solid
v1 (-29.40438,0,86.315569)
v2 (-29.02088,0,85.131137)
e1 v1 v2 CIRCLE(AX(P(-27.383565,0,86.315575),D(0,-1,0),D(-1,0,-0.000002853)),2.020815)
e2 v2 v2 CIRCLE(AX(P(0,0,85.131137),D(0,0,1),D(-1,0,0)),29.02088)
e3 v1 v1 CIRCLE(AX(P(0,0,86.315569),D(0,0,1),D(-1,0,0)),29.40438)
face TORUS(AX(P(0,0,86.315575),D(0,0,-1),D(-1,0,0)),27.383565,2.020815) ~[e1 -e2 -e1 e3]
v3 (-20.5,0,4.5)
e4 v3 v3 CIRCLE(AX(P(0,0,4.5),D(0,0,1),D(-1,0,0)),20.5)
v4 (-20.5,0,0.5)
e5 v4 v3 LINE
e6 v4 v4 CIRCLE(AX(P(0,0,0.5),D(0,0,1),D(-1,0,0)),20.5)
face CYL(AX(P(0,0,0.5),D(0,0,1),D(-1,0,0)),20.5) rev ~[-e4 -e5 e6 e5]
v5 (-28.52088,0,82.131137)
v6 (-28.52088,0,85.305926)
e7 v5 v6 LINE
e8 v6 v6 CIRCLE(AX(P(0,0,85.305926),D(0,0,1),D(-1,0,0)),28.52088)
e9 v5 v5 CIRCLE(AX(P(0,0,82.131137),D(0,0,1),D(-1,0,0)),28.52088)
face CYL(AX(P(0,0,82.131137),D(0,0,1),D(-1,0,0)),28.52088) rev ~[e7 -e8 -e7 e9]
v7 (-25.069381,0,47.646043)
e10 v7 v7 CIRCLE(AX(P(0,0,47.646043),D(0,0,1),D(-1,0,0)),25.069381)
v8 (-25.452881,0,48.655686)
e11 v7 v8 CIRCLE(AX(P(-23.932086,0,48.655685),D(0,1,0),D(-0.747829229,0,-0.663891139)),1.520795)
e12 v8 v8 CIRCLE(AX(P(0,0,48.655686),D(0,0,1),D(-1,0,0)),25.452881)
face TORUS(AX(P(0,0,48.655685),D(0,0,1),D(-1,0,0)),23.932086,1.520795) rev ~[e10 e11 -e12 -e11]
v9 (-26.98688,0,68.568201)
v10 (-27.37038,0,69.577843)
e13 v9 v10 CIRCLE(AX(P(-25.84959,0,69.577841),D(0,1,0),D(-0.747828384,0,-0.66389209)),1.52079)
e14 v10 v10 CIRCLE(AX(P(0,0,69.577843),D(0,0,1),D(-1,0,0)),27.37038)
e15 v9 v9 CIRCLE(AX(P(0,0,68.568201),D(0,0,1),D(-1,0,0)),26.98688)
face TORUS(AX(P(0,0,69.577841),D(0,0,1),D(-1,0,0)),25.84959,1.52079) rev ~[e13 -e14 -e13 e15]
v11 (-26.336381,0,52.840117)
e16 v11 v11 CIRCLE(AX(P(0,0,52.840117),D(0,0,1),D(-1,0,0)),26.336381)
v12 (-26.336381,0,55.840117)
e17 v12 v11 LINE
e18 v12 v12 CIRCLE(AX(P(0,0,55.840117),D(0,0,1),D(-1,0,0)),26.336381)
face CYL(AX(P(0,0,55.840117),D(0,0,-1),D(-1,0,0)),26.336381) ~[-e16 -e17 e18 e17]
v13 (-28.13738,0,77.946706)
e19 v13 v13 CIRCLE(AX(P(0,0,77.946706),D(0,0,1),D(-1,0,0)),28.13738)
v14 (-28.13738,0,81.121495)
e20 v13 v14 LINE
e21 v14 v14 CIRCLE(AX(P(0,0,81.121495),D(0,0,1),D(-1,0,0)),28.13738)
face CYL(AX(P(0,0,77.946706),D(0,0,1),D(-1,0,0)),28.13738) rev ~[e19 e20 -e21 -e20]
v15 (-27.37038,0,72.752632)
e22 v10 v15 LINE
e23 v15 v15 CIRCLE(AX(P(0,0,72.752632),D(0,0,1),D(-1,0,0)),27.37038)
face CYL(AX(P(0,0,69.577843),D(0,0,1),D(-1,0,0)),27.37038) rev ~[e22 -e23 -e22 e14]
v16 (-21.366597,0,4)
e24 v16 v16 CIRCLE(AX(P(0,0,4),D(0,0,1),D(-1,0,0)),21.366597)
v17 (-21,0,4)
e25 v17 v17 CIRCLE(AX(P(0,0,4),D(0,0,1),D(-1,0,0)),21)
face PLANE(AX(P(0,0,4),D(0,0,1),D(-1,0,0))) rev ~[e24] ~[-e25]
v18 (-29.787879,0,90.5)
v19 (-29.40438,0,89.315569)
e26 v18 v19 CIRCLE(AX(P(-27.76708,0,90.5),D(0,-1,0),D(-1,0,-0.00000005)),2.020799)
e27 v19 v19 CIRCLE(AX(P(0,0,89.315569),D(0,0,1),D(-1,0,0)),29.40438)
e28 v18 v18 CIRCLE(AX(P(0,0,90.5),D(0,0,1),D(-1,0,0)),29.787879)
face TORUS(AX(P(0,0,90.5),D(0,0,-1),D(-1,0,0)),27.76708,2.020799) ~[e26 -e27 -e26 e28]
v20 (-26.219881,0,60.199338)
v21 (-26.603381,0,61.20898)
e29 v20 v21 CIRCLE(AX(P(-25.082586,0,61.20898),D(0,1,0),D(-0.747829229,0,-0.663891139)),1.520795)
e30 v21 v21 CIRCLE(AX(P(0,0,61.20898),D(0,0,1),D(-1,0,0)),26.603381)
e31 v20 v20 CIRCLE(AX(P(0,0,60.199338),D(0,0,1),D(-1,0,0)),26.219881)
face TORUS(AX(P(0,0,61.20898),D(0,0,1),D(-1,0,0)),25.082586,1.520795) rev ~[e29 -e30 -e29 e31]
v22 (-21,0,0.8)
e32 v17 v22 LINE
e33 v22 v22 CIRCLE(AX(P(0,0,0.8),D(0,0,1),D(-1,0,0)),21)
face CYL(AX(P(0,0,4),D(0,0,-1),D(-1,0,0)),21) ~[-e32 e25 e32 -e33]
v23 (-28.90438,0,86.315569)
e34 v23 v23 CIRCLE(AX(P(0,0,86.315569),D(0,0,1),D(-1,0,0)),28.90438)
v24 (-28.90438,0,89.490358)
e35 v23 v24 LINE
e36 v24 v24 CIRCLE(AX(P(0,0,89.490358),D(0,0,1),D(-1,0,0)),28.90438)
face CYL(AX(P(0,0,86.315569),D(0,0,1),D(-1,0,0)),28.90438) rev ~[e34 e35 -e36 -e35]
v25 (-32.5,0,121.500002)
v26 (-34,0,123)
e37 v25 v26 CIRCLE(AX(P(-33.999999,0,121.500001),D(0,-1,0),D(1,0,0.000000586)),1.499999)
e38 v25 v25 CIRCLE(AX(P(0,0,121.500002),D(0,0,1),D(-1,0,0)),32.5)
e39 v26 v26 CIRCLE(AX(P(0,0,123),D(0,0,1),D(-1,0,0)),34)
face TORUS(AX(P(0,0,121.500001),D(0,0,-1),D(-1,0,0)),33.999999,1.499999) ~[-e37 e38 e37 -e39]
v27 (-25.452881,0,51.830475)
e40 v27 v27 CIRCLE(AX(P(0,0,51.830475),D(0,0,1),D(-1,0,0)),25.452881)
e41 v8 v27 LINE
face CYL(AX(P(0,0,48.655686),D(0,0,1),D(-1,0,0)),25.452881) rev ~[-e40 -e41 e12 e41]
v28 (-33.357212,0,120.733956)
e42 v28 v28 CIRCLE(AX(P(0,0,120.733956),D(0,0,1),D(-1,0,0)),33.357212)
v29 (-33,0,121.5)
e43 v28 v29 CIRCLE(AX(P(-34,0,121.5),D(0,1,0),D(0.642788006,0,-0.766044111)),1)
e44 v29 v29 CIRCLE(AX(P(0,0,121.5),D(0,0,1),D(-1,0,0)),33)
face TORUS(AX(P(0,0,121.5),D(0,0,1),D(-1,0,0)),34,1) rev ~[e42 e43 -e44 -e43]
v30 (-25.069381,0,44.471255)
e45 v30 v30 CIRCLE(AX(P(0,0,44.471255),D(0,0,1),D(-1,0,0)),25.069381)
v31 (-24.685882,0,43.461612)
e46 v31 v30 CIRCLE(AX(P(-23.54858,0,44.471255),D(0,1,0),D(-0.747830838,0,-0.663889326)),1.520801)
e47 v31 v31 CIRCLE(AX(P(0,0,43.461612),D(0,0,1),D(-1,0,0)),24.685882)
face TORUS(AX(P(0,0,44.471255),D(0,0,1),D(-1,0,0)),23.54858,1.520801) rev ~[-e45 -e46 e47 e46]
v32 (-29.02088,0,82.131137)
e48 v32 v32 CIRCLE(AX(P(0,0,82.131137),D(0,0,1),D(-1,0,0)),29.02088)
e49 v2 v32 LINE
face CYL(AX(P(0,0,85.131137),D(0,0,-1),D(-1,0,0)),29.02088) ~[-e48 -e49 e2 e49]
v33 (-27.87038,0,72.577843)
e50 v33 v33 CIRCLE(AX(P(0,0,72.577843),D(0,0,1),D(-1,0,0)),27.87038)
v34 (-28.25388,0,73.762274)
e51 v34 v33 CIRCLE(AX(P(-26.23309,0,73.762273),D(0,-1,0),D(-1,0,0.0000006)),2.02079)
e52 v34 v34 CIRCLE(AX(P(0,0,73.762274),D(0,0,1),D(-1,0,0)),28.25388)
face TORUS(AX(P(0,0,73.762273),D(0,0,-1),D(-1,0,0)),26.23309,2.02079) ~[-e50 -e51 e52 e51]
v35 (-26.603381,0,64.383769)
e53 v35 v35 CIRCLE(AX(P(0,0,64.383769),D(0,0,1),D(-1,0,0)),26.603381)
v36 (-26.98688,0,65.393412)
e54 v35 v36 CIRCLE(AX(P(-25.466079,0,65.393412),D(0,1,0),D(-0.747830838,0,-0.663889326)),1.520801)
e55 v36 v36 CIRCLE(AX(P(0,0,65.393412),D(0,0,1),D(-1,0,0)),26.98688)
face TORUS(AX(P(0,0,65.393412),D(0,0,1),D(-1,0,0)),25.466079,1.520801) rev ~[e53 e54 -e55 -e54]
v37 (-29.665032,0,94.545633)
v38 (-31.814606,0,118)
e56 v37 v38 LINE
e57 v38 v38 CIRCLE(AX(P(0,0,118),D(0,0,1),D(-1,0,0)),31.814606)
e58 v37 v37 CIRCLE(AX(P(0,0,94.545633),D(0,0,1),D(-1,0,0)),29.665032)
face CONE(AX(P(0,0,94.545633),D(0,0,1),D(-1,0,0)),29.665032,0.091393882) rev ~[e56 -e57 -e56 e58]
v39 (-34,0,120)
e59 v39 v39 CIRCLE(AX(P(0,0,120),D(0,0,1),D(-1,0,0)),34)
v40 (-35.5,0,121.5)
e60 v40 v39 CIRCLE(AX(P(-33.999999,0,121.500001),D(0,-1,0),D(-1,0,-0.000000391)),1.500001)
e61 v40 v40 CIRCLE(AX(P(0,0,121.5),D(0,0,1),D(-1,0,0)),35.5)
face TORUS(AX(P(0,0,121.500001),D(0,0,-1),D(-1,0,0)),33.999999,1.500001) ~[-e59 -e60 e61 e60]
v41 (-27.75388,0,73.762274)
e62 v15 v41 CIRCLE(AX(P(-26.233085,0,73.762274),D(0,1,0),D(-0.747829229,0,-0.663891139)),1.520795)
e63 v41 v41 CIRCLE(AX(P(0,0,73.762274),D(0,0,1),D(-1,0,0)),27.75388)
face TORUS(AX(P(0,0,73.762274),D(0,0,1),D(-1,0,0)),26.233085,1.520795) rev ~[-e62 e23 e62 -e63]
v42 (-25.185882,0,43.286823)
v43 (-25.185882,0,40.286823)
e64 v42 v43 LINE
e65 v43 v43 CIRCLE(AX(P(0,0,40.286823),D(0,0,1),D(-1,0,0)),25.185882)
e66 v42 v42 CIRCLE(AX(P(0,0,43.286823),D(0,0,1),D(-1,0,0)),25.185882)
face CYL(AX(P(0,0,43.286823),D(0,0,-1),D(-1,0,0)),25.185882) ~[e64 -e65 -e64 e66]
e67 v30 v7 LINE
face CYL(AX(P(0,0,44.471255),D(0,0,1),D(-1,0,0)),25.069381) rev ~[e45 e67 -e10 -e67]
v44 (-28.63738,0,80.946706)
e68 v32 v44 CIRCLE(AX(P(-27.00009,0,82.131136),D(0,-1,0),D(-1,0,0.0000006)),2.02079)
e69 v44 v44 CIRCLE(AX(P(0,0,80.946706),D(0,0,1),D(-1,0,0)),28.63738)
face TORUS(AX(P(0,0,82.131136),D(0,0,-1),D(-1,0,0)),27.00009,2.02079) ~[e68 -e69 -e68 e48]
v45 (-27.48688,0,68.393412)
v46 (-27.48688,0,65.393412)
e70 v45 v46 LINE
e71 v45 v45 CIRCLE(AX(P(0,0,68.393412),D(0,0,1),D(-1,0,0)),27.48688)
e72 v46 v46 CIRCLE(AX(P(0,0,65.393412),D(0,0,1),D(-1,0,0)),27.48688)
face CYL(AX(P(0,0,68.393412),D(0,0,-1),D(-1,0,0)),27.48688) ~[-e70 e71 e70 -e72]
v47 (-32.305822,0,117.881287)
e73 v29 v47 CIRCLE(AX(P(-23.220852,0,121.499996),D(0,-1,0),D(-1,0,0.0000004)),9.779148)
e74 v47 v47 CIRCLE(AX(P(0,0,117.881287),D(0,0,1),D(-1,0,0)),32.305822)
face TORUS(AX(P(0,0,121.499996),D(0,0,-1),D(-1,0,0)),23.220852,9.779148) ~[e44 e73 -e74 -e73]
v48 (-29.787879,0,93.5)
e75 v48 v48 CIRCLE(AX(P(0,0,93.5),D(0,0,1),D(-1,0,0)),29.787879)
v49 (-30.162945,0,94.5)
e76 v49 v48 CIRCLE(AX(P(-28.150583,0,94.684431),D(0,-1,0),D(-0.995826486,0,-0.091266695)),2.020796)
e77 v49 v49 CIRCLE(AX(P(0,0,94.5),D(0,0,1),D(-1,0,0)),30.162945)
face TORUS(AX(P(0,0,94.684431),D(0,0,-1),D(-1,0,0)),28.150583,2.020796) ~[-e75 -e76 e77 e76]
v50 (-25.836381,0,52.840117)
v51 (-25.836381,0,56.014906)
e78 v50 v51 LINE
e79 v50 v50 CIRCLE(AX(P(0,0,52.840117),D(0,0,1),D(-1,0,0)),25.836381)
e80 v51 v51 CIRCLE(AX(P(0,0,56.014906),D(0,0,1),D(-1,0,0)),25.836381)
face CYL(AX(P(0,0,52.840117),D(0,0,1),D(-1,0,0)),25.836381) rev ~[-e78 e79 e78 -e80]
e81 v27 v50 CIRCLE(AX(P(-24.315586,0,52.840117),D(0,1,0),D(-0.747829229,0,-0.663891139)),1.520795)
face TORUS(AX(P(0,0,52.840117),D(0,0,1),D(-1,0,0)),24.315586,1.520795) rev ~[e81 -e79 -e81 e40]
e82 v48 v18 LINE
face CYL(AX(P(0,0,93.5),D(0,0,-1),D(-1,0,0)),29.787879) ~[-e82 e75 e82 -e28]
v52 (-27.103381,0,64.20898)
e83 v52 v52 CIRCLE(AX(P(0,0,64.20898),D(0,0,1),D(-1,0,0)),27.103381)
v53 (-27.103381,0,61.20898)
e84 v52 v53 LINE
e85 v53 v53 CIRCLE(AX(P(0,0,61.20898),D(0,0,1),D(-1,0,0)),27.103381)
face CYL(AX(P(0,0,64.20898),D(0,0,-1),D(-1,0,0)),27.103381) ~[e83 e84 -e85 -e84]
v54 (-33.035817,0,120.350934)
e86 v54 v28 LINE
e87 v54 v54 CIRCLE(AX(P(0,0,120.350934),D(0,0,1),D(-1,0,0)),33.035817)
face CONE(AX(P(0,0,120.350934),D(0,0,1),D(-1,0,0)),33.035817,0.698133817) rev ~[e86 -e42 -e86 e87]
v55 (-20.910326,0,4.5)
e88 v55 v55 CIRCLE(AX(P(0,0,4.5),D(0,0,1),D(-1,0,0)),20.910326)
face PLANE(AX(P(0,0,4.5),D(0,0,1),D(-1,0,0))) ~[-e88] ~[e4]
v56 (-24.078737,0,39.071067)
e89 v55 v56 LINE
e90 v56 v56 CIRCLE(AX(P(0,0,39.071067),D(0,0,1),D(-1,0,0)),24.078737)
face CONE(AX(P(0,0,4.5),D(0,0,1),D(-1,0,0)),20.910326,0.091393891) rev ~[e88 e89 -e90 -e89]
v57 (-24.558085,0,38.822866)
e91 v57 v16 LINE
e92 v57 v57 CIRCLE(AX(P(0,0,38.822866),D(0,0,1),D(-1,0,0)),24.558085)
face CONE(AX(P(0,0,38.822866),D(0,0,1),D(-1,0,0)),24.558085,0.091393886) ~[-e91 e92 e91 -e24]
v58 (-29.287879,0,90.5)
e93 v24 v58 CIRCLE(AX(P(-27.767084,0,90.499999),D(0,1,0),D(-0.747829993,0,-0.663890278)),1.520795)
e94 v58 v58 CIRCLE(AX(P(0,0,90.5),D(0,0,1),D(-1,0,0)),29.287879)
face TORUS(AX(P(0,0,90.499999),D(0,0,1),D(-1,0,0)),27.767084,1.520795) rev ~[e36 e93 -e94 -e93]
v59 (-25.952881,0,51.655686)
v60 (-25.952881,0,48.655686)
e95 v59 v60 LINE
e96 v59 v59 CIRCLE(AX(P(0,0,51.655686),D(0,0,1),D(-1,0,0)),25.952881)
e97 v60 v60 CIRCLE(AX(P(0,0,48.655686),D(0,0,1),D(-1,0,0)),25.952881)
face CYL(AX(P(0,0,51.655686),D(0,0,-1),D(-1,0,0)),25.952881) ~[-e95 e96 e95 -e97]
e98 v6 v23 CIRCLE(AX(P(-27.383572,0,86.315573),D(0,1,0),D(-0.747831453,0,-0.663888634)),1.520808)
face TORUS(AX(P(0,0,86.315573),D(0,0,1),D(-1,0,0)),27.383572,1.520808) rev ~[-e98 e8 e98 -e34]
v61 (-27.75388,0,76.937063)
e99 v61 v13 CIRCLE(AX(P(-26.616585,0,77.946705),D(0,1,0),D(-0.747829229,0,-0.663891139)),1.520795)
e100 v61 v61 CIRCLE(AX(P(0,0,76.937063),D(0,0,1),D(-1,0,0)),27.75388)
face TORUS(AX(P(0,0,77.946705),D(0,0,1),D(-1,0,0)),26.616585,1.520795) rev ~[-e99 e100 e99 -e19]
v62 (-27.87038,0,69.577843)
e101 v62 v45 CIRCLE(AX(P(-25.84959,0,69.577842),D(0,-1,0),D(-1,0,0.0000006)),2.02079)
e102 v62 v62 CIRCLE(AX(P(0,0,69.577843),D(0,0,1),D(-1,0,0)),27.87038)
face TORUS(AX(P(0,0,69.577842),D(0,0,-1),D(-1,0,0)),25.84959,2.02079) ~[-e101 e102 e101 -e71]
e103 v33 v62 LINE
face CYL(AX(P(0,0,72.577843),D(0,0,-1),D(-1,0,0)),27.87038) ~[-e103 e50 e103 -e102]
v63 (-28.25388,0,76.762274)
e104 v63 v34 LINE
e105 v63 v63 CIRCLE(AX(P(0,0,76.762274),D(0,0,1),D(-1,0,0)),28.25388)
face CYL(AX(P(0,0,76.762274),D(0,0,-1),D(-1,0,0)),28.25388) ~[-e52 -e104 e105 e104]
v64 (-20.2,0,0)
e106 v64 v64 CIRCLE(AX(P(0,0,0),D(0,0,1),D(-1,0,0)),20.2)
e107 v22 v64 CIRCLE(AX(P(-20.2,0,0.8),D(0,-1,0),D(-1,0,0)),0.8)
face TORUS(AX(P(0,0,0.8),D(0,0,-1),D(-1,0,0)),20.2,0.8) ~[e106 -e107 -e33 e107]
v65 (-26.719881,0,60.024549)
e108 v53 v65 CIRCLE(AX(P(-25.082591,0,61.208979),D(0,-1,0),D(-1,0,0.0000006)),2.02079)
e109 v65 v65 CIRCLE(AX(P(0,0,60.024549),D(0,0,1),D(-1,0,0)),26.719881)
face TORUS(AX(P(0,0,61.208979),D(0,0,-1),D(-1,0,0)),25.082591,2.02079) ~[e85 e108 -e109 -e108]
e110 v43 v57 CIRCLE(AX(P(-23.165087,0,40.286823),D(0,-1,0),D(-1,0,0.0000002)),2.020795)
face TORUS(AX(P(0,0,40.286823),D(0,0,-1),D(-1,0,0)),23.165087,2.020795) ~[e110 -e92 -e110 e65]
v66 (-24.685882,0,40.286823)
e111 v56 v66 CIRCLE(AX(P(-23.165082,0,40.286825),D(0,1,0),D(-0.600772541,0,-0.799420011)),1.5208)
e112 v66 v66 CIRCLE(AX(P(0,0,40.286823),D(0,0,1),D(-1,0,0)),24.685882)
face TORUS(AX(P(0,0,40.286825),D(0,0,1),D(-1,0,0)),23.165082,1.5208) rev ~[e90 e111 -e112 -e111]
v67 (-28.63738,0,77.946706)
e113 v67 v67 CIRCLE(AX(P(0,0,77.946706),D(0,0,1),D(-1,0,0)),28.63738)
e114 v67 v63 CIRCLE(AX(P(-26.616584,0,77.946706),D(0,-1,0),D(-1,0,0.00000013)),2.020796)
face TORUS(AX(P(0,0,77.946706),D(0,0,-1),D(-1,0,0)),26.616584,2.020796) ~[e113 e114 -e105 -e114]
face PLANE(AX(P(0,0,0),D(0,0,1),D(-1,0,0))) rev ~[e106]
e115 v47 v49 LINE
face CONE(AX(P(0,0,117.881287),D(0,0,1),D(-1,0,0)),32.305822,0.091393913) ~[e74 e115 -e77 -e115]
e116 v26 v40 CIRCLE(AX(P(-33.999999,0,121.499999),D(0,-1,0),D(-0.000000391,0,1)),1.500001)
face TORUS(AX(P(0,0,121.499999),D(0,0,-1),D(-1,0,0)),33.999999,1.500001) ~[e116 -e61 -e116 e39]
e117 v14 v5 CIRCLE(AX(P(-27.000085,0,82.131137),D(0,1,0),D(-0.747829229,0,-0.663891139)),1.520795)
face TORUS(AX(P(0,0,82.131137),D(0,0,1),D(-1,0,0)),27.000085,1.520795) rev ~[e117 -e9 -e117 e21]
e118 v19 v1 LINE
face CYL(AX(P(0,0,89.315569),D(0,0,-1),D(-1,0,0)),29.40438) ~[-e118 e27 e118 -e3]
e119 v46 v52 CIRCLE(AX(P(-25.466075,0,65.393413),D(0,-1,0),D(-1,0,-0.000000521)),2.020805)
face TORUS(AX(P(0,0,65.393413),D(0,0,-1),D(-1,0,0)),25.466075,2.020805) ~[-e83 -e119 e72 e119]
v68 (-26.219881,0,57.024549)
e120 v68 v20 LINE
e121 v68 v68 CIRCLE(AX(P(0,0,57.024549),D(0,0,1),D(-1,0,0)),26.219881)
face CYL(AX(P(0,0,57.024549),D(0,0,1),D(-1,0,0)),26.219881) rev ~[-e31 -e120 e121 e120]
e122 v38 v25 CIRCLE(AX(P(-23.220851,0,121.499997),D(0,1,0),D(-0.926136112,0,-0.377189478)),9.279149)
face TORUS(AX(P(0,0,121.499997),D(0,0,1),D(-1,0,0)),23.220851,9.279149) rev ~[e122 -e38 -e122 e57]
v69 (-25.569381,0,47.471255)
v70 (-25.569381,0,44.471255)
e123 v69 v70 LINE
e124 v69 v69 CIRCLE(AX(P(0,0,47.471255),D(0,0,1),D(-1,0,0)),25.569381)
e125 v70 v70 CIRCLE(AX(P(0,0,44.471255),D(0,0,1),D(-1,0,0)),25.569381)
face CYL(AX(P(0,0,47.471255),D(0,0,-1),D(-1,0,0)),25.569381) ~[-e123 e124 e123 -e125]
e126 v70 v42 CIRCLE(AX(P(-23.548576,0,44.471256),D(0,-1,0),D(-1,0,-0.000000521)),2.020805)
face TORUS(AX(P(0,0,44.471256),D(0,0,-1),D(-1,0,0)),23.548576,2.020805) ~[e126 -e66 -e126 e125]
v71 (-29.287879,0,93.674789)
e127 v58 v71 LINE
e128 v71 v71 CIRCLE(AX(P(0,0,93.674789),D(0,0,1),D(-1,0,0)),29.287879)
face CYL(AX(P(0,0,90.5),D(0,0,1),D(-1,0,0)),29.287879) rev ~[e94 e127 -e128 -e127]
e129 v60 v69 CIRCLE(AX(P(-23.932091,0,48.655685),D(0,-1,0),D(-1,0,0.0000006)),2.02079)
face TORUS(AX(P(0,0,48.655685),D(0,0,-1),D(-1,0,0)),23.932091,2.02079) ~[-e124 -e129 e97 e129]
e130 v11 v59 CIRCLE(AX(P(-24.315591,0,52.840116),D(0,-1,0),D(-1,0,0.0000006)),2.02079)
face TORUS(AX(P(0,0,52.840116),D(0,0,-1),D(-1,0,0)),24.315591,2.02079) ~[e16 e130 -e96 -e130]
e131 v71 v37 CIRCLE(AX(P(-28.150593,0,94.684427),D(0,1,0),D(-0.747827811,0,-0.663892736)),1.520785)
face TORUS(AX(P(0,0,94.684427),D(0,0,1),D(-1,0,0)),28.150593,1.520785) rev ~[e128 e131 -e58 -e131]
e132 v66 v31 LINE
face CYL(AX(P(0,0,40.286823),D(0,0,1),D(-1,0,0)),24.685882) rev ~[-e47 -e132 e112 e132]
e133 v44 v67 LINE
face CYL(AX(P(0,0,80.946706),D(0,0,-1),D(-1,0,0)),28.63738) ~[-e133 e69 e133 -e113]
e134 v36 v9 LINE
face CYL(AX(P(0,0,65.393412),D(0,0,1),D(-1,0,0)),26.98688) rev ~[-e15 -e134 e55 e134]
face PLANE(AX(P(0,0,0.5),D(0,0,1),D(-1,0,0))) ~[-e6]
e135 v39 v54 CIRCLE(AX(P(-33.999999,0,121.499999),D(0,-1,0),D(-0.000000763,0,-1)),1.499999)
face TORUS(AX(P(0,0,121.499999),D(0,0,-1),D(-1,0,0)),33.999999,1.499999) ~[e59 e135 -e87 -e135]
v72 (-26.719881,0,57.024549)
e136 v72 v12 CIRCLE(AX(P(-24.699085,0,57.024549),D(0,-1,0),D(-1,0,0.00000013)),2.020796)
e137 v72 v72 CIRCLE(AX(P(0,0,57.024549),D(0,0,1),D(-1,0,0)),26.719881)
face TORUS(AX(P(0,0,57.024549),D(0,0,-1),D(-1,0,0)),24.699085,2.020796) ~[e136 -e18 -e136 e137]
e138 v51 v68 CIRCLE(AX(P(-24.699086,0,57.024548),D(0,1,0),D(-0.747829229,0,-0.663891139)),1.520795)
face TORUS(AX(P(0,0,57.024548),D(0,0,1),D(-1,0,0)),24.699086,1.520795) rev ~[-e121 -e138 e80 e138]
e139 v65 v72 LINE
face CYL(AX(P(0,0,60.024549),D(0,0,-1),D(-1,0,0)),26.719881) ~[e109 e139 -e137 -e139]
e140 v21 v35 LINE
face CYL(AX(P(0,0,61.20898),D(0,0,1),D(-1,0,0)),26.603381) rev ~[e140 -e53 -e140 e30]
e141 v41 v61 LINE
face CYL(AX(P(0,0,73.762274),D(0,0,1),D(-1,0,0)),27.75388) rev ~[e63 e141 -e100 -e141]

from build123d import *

# Parameters (mm, degrees)
F3_R = 0.8


with BuildPart() as f2:
    # F1 (on Front) → F2 (revolve)
    with BuildSketch(Plane.XZ):
        with BuildLine():
            Line((-33.035817, 120.350934), (-33.357212, 120.733956))
            ThreePointArc((-33.357212, 120.733956), (-34.906308, 121.922618), (-33, 121.5))
            ThreePointArc((-33, 121.5), (-32.824888, 119.657653), (-32.305822, 117.881287))
            Line((-32.305822, 117.881287), (-30.162945, 94.5))
            ThreePointArc((-30.162945, 94.5), (-30.042672, 93.974773), (-29.787879, 93.5))
            Line((-29.787879, 93.5), (-29.787879, 90.5))
            ThreePointArc((-29.787879, 90.5), (-29.689615, 89.877515), (-29.40438, 89.315569))
            Line((-29.40438, 89.315569), (-29.40438, 86.315569))
            ThreePointArc((-29.40438, 86.315569), (-29.306115, 85.693084), (-29.02088, 85.131137))
            Line((-29.02088, 85.131137), (-29.02088, 82.131137))
            ThreePointArc((-29.02088, 82.131137), (-28.922616, 81.508652), (-28.63738, 80.946706))
            Line((-28.63738, 80.946706), (-28.63738, 77.946706))
            ThreePointArc((-28.63738, 77.946706), (-28.539116, 77.324221), (-28.25388, 76.762274))
            ThreePointArc((-28.25388, 76.762274), (-28.024997, 76.497572), (-27.75388, 76.276324))
            Line((-27.75388, 76.276324), (-27.75388, 76.937063))
            ThreePointArc((-27.75388, 76.937063), (-28.038276, 77.406694), (-28.13738, 77.946706))
            Line((-28.13738, 77.946706), (-28.13738, 81.121495))
            ThreePointArc((-28.13738, 81.121495), (-28.421776, 81.591126), (-28.52088, 82.131137))
            Line((-28.52088, 82.131137), (-28.52088, 85.305926))
            ThreePointArc((-28.52088, 85.305926), (-28.805275, 85.775557), (-28.90438, 86.315569))
            Line((-28.90438, 86.315569), (-28.90438, 89.490358))
            ThreePointArc((-28.90438, 89.490358), (-29.188775, 89.959988), (-29.287879, 90.5))
            Line((-29.287879, 90.5), (-29.287879, 93.674789))
            ThreePointArc((-29.287879, 93.674789), (-29.546123, 94.080039), (-29.665032, 94.545633))
            Line((-29.665032, 94.545633), (-31.814606, 118))
            ThreePointArc((-31.814606, 118), (-32.32704, 119.716762), (-32.5, 121.500002))
            ThreePointArc((-32.5, 121.500002), (-32.93934, 122.560661), (-34, 123))
            ThreePointArc((-34, 123), (-35.06066, 122.56066), (-35.5, 121.5))
            ThreePointArc((-35.5, 121.5), (-35.06066, 120.43934), (-34, 120))
            ThreePointArc((-34, 120), (-33.486969, 120.090461), (-33.035817, 120.350934))
        make_face()
        with BuildLine():
            ThreePointArc((-27.75388, 76.276324), (-28.024997, 76.497572), (-28.25388, 76.762274))
            Line((-28.25388, 76.762274), (-28.25388, 73.762274))
            ThreePointArc((-28.25388, 73.762274), (-28.155616, 73.139789), (-27.87038, 72.577843))
            Line((-27.87038, 72.577843), (-27.87038, 69.577843))
            ThreePointArc((-27.87038, 69.577843), (-27.772116, 68.955358), (-27.48688, 68.393412))
            Line((-27.48688, 68.393412), (-27.48688, 65.393412))
            ThreePointArc((-27.48688, 65.393412), (-27.388616, 64.770927), (-27.103381, 64.20898))
            Line((-27.103381, 64.20898), (-27.103381, 61.20898))
            ThreePointArc((-27.103381, 61.20898), (-27.005117, 60.586495), (-26.719881, 60.024549))
            Line((-26.719881, 60.024549), (-26.719881, 57.024549))
            ThreePointArc((-26.719881, 57.024549), (-26.621617, 56.402064), (-26.336381, 55.840117))
            Line((-26.336381, 55.840117), (-26.336381, 52.840117))
            ThreePointArc((-26.336381, 52.840117), (-26.238117, 52.217632), (-25.952881, 51.655686))
            Line((-25.952881, 51.655686), (-25.952881, 48.655686))
            ThreePointArc((-25.952881, 48.655686), (-25.854617, 48.033201), (-25.569381, 47.471255))
            Line((-25.569381, 47.471255), (-25.569381, 44.471255))
            ThreePointArc((-25.569381, 44.471255), (-25.471117, 43.84877), (-25.185882, 43.286823))
            Line((-25.185882, 43.286823), (-25.185882, 40.286823))
            ThreePointArc((-25.185882, 40.286823), (-25.022313, 39.490378), (-24.558085, 38.822866))
            Line((-24.558085, 38.822866), (-21.366597, 4))
            Line((-21.366597, 4), (-21, 4))
            Line((-21, 4), (-21, 0))
            Line((-21, 0), (0, 0))
            Line((0, 0), (0, 0.5))
            Line((0, 0.5), (-20.5, 0.5))
            Line((-20.5, 0.5), (-20.5, 4.5))
            Line((-20.5, 4.5), (-20.910326, 4.5))
            Line((-20.910326, 4.5), (-24.078737, 39.071067))
            ThreePointArc((-24.078737, 39.071067), (-24.525655, 39.607359), (-24.685882, 40.286823))
            Line((-24.685882, 40.286823), (-24.685882, 43.461612))
            ThreePointArc((-24.685882, 43.461612), (-24.970277, 43.931243), (-25.069381, 44.471255))
            Line((-25.069381, 44.471255), (-25.069381, 47.646043))
            ThreePointArc((-25.069381, 47.646043), (-25.353777, 48.115674), (-25.452881, 48.655686))
            Line((-25.452881, 48.655686), (-25.452881, 51.830475))
            ThreePointArc((-25.452881, 51.830475), (-25.737277, 52.300106), (-25.836381, 52.840117))
            Line((-25.836381, 52.840117), (-25.836381, 56.014906))
            ThreePointArc((-25.836381, 56.014906), (-26.120777, 56.484537), (-26.219881, 57.024549))
            Line((-26.219881, 57.024549), (-26.219881, 60.199338))
            ThreePointArc((-26.219881, 60.199338), (-26.504277, 60.668969), (-26.603381, 61.20898))
            Line((-26.603381, 61.20898), (-26.603381, 64.383769))
            ThreePointArc((-26.603381, 64.383769), (-26.887776, 64.8534), (-26.98688, 65.393412))
            Line((-26.98688, 65.393412), (-26.98688, 68.568201))
            ThreePointArc((-26.98688, 68.568201), (-27.271276, 69.037831), (-27.37038, 69.577843))
            Line((-27.37038, 69.577843), (-27.37038, 72.752632))
            ThreePointArc((-27.37038, 72.752632), (-27.654776, 73.222263), (-27.75388, 73.762274))
            Line((-27.75388, 73.762274), (-27.75388, 76.276324))
        make_face()
    revolve(axis=Axis((0, 0, 61.5), (0, 0, 1)))

    # F3
    f3_edges = [f2.edges().sort_by_distance(p)[0] for p in [
        (21, 0, 0),
    ]]
    fillet(f3_edges, radius=F3_R)


solid = f2.part
